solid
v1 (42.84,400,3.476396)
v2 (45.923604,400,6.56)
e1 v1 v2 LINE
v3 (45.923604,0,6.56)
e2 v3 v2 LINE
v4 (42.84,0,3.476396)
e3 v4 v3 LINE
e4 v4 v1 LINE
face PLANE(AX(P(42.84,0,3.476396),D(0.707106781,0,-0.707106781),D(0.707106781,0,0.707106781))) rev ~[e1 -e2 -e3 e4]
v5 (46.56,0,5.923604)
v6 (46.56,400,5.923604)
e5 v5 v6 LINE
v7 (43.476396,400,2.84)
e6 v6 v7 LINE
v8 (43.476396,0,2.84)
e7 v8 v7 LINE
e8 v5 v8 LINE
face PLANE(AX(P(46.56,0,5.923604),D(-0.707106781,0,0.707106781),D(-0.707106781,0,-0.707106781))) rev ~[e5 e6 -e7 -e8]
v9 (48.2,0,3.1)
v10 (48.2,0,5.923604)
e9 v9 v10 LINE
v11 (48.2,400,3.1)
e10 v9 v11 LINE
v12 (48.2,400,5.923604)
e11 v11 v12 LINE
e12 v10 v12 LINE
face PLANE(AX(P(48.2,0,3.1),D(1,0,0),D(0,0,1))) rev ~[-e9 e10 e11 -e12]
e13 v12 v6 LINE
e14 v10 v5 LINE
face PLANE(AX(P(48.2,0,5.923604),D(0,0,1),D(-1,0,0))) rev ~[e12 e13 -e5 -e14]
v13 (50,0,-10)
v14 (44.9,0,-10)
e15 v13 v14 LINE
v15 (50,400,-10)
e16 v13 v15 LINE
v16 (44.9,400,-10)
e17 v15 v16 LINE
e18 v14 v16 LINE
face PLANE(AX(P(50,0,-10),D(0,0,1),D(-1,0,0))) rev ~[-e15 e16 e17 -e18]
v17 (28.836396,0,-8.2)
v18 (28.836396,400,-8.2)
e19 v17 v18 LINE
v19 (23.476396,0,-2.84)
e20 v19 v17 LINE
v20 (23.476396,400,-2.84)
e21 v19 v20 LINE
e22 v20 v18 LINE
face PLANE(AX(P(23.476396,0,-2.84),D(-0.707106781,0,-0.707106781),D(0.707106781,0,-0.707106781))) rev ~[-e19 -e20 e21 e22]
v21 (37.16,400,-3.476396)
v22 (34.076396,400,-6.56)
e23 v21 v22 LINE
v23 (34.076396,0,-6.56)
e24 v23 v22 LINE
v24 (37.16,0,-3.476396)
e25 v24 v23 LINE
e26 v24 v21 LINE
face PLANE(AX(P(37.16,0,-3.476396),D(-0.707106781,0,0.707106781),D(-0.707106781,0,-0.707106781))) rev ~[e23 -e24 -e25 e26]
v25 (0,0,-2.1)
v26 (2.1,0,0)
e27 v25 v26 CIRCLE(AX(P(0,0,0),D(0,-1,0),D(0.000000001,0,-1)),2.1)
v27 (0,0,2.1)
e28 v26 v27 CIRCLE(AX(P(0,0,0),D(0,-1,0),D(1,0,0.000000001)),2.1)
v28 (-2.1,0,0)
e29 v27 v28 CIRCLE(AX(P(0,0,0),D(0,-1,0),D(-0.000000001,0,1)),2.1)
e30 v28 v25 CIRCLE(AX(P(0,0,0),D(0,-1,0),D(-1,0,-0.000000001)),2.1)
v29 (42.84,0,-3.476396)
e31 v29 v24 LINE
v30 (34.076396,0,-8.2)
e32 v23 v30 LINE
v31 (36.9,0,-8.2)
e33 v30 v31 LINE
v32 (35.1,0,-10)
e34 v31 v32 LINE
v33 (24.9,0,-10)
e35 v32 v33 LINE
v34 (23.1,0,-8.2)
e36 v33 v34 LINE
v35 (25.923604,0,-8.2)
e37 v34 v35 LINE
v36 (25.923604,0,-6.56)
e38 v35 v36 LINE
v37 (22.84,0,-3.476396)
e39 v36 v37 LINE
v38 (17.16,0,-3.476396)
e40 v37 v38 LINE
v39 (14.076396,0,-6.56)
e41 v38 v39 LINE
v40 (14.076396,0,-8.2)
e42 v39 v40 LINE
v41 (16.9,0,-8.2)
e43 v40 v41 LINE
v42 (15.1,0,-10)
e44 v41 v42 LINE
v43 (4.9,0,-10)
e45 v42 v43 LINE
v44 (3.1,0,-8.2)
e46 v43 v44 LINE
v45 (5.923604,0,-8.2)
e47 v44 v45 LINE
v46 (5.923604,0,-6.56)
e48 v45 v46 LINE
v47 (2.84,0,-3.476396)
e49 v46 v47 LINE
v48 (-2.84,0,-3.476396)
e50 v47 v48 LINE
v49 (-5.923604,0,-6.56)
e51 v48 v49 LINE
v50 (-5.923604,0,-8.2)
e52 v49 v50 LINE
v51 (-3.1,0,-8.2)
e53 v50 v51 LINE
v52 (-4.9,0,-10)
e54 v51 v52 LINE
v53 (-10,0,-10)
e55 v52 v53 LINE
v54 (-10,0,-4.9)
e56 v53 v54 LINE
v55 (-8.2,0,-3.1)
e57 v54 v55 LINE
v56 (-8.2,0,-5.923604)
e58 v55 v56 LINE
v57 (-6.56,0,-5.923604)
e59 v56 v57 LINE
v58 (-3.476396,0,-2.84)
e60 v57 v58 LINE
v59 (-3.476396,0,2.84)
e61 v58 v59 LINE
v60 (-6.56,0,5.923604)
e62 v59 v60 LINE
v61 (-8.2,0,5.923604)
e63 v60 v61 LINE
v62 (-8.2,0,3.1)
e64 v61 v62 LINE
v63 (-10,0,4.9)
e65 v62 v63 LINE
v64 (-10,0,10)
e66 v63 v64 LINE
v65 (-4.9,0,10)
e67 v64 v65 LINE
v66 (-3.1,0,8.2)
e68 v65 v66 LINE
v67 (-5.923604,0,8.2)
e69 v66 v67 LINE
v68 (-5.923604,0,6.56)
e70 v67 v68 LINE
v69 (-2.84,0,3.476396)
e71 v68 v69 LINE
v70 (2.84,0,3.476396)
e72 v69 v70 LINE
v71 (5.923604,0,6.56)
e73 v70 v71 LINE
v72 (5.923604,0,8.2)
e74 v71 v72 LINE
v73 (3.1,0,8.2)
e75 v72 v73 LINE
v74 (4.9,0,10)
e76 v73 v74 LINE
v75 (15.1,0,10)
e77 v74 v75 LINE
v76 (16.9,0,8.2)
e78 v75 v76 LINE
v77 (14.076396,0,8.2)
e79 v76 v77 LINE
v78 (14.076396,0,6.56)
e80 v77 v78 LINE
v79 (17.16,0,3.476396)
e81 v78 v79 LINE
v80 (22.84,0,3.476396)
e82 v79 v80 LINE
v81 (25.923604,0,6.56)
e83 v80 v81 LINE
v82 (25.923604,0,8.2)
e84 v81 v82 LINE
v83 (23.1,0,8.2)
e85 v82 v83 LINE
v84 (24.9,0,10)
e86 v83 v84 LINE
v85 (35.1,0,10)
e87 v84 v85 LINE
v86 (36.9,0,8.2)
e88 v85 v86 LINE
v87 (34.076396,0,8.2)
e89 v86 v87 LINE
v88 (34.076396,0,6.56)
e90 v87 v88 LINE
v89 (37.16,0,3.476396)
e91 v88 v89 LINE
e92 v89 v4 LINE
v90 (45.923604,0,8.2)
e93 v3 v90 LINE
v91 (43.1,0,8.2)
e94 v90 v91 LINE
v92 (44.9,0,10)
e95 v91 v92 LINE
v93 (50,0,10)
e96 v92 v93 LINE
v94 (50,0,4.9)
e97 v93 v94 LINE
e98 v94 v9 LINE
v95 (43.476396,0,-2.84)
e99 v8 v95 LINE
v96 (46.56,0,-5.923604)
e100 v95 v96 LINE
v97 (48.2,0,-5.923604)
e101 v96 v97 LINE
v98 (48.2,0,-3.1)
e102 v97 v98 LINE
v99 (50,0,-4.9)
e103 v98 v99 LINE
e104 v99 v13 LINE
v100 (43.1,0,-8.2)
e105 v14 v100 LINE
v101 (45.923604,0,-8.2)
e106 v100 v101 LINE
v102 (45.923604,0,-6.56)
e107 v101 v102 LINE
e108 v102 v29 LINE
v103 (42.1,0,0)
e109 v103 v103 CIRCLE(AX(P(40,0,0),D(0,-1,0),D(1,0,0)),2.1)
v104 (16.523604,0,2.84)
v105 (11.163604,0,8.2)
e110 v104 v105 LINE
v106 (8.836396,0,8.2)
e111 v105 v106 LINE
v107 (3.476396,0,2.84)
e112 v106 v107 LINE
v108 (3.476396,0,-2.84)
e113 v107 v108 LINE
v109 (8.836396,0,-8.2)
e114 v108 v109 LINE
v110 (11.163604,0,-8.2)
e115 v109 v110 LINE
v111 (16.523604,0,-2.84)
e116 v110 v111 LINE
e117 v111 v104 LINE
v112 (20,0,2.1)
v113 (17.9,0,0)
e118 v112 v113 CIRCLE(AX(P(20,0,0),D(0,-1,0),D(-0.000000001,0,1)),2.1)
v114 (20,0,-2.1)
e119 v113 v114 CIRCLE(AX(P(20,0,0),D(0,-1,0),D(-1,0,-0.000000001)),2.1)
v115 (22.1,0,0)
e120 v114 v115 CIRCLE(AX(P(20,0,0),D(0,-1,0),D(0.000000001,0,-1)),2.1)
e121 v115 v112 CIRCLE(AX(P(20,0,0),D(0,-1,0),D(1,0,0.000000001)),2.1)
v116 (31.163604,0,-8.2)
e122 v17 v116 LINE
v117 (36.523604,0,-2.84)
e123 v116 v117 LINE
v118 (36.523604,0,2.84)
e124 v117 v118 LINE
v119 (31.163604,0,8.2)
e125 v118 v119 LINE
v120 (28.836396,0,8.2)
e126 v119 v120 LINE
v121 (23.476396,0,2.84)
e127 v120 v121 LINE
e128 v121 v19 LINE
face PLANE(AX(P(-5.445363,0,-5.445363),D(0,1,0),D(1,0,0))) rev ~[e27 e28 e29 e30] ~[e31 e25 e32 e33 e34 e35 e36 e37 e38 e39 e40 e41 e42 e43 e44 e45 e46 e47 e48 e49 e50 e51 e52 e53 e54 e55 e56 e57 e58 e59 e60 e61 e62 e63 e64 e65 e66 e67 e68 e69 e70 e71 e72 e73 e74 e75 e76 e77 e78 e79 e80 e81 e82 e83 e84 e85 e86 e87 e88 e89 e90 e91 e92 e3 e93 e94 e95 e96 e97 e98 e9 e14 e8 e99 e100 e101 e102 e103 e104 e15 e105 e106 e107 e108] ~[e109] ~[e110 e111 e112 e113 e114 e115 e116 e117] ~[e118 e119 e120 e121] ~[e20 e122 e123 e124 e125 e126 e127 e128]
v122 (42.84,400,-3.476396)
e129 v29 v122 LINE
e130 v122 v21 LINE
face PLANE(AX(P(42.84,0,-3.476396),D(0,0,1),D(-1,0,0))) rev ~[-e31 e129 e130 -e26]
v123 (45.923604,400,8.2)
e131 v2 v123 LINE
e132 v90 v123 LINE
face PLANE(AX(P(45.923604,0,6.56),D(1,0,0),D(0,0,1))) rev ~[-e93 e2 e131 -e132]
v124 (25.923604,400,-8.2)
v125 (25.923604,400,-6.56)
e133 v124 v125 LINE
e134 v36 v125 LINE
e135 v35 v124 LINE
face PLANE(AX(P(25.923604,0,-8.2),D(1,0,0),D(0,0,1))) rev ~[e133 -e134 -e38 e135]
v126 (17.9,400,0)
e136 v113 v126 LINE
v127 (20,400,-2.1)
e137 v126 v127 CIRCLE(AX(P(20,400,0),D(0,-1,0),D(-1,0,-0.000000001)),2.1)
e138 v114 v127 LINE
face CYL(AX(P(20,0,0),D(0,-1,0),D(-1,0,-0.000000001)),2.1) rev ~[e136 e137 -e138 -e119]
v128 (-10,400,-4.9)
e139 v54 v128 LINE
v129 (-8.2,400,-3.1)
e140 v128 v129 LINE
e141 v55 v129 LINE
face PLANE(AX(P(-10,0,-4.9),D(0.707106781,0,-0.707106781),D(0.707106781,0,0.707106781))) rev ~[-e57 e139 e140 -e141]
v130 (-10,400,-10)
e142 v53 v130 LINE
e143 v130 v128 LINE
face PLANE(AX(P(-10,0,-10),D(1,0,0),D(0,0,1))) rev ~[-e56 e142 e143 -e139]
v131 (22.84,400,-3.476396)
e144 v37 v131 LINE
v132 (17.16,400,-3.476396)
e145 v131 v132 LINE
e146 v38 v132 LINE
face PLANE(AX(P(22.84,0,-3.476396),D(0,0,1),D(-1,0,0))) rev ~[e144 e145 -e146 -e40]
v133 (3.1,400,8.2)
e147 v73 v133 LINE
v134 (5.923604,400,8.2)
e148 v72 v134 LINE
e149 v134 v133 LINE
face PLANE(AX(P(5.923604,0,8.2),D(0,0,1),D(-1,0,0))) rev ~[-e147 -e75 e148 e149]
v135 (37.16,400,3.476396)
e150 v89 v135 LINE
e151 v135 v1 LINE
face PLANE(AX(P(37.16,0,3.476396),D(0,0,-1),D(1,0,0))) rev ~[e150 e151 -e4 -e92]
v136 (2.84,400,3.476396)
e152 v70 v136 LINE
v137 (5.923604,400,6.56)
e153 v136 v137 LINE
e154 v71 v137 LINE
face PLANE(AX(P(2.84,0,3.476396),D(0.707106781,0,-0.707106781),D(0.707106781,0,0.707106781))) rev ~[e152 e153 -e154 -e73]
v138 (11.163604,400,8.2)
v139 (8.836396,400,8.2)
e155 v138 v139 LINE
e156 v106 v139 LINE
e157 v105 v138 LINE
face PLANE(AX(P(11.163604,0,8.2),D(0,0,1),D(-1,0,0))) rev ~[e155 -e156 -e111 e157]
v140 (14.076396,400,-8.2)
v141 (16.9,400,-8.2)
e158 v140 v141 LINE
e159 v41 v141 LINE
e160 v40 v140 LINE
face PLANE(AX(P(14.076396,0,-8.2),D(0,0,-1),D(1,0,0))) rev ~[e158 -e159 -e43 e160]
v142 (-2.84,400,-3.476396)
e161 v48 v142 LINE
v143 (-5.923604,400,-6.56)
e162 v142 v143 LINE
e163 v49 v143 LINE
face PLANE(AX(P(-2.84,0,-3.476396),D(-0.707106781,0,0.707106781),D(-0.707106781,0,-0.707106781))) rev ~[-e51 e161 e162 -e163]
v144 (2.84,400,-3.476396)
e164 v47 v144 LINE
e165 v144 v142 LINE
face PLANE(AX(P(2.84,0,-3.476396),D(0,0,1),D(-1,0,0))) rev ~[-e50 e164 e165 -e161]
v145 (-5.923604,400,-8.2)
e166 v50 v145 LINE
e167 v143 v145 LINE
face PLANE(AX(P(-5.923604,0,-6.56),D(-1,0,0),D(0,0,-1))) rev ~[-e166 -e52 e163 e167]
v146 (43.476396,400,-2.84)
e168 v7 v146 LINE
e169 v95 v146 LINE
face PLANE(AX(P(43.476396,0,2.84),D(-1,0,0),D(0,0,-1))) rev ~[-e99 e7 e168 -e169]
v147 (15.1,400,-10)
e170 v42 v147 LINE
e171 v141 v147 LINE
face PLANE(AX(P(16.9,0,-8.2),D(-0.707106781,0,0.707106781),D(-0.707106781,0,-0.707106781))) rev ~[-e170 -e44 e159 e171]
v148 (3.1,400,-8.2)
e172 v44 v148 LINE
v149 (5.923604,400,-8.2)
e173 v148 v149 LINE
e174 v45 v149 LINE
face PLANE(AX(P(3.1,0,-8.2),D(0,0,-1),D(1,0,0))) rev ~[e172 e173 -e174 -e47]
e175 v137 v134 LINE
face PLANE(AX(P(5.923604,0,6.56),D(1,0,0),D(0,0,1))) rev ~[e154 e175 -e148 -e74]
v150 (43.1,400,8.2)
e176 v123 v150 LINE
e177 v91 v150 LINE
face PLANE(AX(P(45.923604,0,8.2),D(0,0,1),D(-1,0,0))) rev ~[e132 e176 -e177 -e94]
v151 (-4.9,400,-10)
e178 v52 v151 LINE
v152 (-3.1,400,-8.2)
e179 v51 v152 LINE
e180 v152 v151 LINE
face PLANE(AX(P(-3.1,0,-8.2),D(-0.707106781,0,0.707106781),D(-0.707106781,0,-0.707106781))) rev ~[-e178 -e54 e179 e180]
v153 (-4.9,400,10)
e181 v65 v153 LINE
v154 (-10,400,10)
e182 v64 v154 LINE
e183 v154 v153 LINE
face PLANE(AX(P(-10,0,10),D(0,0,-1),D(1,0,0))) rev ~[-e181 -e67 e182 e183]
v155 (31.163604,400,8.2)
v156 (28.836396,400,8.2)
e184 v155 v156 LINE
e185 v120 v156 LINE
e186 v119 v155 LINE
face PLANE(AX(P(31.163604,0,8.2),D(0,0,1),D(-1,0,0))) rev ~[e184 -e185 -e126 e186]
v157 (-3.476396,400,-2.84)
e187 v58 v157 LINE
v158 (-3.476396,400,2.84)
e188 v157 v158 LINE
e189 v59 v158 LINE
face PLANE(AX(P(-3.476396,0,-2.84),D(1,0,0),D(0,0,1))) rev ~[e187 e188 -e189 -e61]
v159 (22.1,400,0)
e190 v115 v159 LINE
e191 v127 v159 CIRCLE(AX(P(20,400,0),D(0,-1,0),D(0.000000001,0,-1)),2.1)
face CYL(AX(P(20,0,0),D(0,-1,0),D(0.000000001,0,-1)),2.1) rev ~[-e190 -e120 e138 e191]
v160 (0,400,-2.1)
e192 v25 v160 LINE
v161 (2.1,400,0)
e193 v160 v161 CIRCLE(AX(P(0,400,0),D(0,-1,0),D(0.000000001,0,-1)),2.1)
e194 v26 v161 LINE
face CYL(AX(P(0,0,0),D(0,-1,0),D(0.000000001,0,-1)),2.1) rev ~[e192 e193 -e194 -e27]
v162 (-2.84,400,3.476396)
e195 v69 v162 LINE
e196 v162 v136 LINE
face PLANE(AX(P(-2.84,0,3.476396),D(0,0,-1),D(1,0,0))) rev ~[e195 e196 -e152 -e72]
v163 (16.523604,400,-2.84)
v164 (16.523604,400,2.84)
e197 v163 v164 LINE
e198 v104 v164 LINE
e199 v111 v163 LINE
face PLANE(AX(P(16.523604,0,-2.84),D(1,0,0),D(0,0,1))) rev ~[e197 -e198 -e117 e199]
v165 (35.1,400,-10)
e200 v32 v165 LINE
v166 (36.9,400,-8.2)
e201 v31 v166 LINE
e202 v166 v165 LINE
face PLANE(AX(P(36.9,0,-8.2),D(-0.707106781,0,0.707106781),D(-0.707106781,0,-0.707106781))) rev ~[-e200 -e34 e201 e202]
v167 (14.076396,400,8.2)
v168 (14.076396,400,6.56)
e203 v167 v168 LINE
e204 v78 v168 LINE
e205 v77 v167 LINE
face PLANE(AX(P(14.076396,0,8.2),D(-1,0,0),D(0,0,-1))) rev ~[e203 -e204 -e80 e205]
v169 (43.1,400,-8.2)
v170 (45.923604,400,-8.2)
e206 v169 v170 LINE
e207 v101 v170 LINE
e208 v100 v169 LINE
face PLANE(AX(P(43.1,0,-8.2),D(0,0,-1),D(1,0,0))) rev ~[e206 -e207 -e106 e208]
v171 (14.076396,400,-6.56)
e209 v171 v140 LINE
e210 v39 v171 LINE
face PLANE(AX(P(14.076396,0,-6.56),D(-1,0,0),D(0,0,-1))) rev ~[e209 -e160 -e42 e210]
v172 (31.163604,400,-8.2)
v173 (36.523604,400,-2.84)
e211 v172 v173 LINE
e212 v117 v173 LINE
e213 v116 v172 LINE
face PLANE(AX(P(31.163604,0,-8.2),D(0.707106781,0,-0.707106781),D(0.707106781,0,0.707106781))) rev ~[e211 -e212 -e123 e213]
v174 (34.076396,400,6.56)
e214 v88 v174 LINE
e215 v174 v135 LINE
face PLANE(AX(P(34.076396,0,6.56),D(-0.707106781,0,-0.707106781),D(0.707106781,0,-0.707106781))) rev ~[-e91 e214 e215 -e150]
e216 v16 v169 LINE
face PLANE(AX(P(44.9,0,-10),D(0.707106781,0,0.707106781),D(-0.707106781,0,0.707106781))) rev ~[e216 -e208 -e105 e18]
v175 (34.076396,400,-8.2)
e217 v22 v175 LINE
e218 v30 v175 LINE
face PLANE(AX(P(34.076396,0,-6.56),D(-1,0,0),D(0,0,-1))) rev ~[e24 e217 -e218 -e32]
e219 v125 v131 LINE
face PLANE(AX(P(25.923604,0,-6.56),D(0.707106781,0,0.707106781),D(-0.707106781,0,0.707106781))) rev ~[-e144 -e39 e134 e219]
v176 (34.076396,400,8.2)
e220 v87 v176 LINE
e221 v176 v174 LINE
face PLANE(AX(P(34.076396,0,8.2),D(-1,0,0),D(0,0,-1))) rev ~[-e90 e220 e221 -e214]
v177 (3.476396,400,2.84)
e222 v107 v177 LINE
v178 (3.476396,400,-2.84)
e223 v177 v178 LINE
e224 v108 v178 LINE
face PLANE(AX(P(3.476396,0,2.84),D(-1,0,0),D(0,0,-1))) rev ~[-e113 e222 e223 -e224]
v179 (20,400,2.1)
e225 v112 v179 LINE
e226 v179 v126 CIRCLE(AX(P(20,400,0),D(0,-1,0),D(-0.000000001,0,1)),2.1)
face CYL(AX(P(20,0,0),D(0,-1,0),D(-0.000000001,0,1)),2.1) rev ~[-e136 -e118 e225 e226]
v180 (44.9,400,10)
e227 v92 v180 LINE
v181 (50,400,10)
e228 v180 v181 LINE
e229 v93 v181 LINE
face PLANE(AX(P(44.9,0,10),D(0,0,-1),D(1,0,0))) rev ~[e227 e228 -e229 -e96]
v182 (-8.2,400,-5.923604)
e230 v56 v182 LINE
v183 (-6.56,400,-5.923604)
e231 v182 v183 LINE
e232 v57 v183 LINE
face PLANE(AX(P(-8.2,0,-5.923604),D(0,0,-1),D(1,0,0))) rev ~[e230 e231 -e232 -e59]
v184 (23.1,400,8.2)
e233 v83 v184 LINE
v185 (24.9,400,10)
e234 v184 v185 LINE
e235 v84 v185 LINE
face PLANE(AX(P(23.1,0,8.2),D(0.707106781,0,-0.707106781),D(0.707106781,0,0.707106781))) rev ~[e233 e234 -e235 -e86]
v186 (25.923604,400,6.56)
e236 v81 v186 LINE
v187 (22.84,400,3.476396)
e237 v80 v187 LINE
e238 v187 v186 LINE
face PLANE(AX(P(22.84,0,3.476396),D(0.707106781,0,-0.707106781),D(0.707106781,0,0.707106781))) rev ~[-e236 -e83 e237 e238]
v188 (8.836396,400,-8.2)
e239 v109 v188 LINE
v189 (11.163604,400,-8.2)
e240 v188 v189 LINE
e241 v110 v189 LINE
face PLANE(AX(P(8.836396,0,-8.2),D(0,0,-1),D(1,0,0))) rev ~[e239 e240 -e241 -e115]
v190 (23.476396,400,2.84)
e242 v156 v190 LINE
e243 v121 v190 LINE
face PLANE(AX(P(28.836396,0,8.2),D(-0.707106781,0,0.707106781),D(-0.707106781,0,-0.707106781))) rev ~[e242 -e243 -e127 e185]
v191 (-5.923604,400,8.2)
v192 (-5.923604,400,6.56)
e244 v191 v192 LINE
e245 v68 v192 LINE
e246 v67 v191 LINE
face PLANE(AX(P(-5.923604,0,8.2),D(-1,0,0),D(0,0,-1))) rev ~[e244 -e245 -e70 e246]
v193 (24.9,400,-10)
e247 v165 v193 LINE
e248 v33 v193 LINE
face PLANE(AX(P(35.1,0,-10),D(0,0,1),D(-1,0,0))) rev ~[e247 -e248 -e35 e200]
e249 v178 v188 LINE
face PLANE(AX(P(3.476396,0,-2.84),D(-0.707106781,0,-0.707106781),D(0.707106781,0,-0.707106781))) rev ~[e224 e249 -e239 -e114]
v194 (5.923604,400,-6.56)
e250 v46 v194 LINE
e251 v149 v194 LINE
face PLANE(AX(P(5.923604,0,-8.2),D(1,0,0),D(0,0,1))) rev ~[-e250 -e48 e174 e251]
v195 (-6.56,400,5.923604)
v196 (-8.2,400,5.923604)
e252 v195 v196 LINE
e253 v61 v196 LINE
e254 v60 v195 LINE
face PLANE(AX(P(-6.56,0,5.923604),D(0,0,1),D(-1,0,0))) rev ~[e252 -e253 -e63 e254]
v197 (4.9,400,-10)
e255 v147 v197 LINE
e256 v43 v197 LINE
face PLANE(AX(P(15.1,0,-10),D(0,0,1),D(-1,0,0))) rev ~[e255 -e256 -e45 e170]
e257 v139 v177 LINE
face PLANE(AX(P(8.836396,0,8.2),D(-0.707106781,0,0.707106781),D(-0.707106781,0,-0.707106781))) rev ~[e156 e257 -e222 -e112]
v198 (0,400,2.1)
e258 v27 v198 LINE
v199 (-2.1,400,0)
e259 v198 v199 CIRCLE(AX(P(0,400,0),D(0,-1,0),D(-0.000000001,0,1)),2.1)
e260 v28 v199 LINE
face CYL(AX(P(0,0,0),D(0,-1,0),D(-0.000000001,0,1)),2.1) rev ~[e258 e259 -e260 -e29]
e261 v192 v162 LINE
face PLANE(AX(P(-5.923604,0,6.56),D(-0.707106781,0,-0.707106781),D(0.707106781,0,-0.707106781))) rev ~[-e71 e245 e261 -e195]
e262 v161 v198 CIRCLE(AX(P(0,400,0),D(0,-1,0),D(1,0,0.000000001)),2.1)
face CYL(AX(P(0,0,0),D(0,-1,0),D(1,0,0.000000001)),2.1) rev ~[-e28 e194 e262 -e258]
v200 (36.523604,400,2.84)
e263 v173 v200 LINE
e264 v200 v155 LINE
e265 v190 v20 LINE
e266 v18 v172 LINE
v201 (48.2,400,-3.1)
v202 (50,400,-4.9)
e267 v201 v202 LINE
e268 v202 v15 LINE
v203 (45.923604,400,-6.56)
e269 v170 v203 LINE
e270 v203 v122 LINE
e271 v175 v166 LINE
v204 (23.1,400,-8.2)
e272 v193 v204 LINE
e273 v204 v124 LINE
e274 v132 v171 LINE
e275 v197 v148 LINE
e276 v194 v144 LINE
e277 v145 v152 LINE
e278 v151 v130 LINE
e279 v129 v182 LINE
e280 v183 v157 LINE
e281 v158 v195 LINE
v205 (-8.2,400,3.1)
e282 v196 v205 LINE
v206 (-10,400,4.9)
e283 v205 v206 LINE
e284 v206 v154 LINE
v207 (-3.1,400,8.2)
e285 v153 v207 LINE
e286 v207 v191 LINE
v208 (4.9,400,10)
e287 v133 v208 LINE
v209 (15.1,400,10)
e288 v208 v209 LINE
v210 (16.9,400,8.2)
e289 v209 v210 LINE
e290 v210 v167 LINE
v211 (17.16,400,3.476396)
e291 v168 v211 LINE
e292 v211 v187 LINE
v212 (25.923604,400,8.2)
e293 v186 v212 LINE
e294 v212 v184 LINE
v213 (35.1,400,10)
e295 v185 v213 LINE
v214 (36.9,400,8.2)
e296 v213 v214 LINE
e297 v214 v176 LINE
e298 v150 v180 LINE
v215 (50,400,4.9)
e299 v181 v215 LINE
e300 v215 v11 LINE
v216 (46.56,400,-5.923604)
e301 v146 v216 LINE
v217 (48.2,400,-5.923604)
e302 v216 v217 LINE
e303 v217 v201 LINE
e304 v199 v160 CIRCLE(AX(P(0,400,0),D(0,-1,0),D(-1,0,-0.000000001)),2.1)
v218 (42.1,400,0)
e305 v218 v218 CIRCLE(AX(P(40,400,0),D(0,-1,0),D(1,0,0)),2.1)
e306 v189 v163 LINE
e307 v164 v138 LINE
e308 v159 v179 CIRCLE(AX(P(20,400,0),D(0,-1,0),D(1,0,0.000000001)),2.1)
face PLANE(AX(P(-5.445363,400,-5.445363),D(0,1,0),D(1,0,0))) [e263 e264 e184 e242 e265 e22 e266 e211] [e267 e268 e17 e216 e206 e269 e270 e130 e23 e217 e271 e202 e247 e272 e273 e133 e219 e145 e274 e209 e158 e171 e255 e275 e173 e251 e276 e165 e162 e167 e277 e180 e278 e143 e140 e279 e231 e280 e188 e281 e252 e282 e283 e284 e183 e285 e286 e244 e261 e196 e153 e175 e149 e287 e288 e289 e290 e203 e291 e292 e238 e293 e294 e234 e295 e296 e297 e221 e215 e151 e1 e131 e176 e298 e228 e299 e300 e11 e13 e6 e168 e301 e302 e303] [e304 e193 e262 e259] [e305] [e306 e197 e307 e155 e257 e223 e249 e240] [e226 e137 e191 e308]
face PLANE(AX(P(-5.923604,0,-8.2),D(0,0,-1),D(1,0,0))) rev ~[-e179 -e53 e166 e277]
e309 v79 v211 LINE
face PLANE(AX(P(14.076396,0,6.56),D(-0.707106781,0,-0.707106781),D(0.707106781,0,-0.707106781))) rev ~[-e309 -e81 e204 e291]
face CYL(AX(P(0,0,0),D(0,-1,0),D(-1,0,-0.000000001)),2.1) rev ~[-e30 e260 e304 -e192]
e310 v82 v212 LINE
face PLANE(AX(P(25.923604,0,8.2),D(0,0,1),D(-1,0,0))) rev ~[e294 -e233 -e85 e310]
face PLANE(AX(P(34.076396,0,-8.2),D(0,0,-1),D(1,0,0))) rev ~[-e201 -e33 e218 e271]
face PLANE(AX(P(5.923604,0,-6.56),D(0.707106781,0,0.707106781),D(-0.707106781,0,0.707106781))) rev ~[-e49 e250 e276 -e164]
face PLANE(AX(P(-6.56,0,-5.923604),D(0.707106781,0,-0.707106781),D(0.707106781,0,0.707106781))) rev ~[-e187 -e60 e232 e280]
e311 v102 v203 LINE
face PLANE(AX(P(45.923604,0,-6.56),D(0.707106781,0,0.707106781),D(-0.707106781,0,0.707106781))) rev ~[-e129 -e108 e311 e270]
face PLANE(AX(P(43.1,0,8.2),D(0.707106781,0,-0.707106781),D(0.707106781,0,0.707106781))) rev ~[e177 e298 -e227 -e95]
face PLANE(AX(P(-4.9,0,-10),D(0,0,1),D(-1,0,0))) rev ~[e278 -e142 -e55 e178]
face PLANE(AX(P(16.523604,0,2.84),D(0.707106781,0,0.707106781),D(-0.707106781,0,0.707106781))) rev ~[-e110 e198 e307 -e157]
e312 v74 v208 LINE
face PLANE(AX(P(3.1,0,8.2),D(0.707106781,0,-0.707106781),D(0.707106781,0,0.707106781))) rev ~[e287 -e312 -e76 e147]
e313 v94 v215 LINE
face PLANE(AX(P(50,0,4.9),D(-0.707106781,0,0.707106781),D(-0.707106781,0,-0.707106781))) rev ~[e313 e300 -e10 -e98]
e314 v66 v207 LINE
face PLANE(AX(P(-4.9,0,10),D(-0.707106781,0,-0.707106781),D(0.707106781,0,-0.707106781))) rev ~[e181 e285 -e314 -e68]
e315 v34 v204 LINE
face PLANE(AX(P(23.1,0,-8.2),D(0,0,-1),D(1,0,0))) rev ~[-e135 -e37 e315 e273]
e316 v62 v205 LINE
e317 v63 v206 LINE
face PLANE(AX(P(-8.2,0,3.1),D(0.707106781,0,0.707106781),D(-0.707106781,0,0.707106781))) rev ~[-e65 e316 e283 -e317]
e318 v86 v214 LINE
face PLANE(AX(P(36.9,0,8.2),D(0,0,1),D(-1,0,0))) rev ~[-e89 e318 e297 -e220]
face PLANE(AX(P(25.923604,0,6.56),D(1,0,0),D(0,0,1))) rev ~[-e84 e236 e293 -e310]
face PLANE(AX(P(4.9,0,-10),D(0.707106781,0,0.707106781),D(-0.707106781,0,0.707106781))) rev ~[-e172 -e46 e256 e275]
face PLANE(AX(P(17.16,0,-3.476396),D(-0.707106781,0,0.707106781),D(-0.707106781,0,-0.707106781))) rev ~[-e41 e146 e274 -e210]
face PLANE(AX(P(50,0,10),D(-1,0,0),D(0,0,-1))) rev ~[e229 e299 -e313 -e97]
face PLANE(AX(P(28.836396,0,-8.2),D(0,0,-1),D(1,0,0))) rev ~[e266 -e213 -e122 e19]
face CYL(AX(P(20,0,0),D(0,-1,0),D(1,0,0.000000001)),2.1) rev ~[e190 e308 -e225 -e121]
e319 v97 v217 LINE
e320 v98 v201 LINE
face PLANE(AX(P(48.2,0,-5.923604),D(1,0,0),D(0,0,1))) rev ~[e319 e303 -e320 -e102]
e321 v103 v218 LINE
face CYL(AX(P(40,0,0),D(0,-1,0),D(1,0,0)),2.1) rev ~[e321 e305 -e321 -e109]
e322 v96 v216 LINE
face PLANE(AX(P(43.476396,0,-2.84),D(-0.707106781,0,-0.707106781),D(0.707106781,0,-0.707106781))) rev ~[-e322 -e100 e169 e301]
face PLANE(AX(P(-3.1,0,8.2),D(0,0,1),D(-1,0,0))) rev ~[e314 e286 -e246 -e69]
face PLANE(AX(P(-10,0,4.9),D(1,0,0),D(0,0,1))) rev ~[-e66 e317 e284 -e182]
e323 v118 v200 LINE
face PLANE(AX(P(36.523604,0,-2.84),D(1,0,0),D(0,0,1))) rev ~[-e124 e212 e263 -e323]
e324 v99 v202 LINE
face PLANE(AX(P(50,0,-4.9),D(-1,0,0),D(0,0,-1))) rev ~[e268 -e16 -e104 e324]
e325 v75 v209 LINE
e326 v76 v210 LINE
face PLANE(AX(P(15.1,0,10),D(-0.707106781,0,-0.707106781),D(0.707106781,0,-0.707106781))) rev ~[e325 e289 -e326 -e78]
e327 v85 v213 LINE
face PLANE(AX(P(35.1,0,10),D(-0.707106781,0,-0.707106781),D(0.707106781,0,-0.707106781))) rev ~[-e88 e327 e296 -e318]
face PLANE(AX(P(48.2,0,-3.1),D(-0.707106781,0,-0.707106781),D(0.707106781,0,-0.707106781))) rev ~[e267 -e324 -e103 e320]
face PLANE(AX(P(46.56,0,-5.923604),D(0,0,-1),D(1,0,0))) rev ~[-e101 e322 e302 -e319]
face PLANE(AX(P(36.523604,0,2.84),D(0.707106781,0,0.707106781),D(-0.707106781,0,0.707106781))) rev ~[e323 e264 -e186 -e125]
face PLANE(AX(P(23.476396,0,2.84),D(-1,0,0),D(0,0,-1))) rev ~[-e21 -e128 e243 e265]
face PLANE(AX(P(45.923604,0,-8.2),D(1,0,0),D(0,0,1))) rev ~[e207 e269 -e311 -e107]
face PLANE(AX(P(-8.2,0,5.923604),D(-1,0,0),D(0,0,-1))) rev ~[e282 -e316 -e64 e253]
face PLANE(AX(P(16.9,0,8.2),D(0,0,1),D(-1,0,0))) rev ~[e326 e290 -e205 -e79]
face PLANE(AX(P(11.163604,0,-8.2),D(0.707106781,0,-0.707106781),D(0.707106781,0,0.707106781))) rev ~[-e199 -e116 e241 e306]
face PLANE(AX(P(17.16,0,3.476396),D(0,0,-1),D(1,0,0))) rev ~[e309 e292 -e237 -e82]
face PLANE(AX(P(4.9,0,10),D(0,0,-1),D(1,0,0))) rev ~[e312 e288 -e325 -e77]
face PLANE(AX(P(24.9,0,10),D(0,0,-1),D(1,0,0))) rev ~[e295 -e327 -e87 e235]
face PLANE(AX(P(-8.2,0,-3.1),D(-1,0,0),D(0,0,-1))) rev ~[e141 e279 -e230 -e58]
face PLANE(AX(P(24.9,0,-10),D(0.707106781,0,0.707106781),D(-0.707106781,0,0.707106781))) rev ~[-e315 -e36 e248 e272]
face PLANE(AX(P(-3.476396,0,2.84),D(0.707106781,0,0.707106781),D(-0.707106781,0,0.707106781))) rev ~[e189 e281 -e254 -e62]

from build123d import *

# Parameters (mm, degrees)
EXTRUDE_1_DEPTH = 400


with BuildPart() as part:
    # 草图1 → 凸台-拉伸1 (new body)
    with BuildSketch(Plane(origin=(0, 0, 0), x_dir=(1, 0, 0), z_dir=(0, 1, 0))):
        with BuildLine():
            Line((-3.476396103, 2.84), (-3.476396103, 0))
            Line((-3.476396103, 0), (-2.1, 0))
            ThreePointArc((-2.1, 0), (-1.48492424, 1.48492424), (0, 2.1))
            Line((0, 2.1), (0, 3.476396103))
            Line((0, 3.476396103), (-2.84, 3.476396103))
            Line((-2.84, 3.476396103), (-5.923603897, 6.56))
            Line((-5.923603897, 6.56), (-5.923603897, 8.2))
            Line((-5.923603897, 8.2), (-3.1, 8.2))
            Line((-3.1, 8.2), (-4.9, 10))
            Line((-4.9, 10), (-10, 10))
            Line((-10, 10), (-10, 4.9))
            Line((-10, 4.9), (-8.2, 3.1))
            Line((-8.2, 3.1), (-8.2, 5.923603897))
            Line((-8.2, 5.923603897), (-6.56, 5.923603897))
            Line((-6.56, 5.923603897), (-3.476396103, 2.84))
        make_face()
        with BuildLine():
            Line((-2.1, 0), (-3.476396103, 0))
            Line((-3.476396103, 0), (-3.476396103, -2.84))
            Line((-3.476396103, -2.84), (-6.56, -5.923603897))
            Line((-6.56, -5.923603897), (-8.2, -5.923603897))
            Line((-8.2, -5.923603897), (-8.2, -3.1))
            Line((-8.2, -3.1), (-10, -4.9))
            Line((-10, -4.9), (-10, -10))
            Line((-10, -10), (-4.9, -10))
            Line((-4.9, -10), (-3.1, -8.2))
            Line((-3.1, -8.2), (-5.923603897, -8.2))
            Line((-5.923603897, -8.2), (-5.923603897, -6.56))
            Line((-5.923603897, -6.56), (-2.84, -3.476396103))
            Line((-2.84, -3.476396103), (0, -3.476396103))
            Line((0, -3.476396103), (0, -2.1))
            ThreePointArc((0, -2.1), (-1.48492424, -1.48492424), (-2.1, 0))
        make_face()
        with BuildLine():
            ThreePointArc((2.1, 0), (1.48492424, -1.48492424), (0, -2.1))
            Line((0, -2.1), (0, -3.476396103))
            Line((0, -3.476396103), (2.84, -3.476396103))
            Line((2.84, -3.476396103), (5.923603897, -6.56))
            Line((5.923603897, -6.56), (5.923603897, -8.2))
            Line((5.923603897, -8.2), (3.1, -8.2))
            Line((3.1, -8.2), (4.9, -10))
            Line((4.9, -10), (15.1, -10))
            Line((15.1, -10), (16.9, -8.2))
            Line((16.9, -8.2), (14.076396103, -8.2))
            Line((14.076396103, -8.2), (14.076396103, -6.56))
            Line((14.076396103, -6.56), (17.16, -3.476396103))
            Line((17.16, -3.476396103), (20, -3.476396103))
            Line((20, -3.476396103), (20, -2.1))
            ThreePointArc((20, -2.1), (18.51507576, -1.48492424), (17.9, 0))
            Line((17.9, 0), (16.523603897, 0))
            Line((16.523603897, 0), (16.523603897, -2.84))
            Line((16.523603897, -2.84), (13.44, -5.923603897))
            Line((13.44, -5.923603897), (11.163603897, -8.2))
            Line((11.163603897, -8.2), (8.836396103, -8.2))
            Line((8.836396103, -8.2), (6.56, -5.923603897))
            Line((6.56, -5.923603897), (3.476396103, -2.84))
            Line((3.476396103, -2.84), (3.476396103, 0))
            Line((3.476396103, 0), (2.1, 0))
        make_face()
        with BuildLine():
            Line((0, 3.476396103), (0, 2.1))
            ThreePointArc((0, 2.1), (1.48492424, 1.48492424), (2.1, 0))
            Line((2.1, 0), (3.476396103, 0))
            Line((3.476396103, 0), (3.476396103, 2.84))
            Line((3.476396103, 2.84), (6.56, 5.923603897))
            Line((6.56, 5.923603897), (8.836396103, 8.2))
            Line((8.836396103, 8.2), (11.163603897, 8.2))
            Line((11.163603897, 8.2), (13.44, 5.923603897))
            Line((13.44, 5.923603897), (16.523603897, 2.84))
            Line((16.523603897, 2.84), (16.523603897, 0))
            Line((16.523603897, 0), (17.9, 0))
            ThreePointArc((17.9, 0), (18.51507576, 1.48492424), (20, 2.1))
            Line((20, 2.1), (20, 3.476396103))
            Line((20, 3.476396103), (17.16, 3.476396103))
            Line((17.16, 3.476396103), (14.076396103, 6.56))
            Line((14.076396103, 6.56), (14.076396103, 8.2))
            Line((14.076396103, 8.2), (16.9, 8.2))
            Line((16.9, 8.2), (15.1, 10))
            Line((15.1, 10), (4.9, 10))
            Line((4.9, 10), (3.1, 8.2))
            Line((3.1, 8.2), (5.923603897, 8.2))
            Line((5.923603897, 8.2), (5.923603897, 6.56))
            Line((5.923603897, 6.56), (2.84, 3.476396103))
            Line((2.84, 3.476396103), (0, 3.476396103))
        make_face()
        with BuildLine():
            Line((20, 3.476396103), (20, 2.1))
            ThreePointArc((20, 2.1), (21.48492424, 1.48492424), (22.1, 0))
            Line((22.1, 0), (23.476396103, 0))
            Line((23.476396103, 0), (23.476396103, 2.84))
            Line((23.476396103, 2.84), (26.56, 5.923603897))
            Line((26.56, 5.923603897), (28.836396103, 8.2))
            Line((28.836396103, 8.2), (31.163603897, 8.2))
            Line((31.163603897, 8.2), (33.44, 5.923603897))
            Line((33.44, 5.923603897), (36.523603897, 2.84))
            Line((36.523603897, 2.84), (36.523603897, 0))
            Line((36.523603897, 0), (37.9, 0))
            ThreePointArc((37.9, 0), (40, 2.1), (42.1, 0))
            Line((42.1, 0), (43.476396103, 0))
            Line((43.476396103, 0), (43.476396103, 2.84))
            Line((43.476396103, 2.84), (46.56, 5.923603897))
            Line((46.56, 5.923603897), (48.2, 5.923603897))
            Line((48.2, 5.923603897), (48.2, 3.1))
            Line((48.2, 3.1), (50, 4.9))
            Line((50, 4.9), (50, 10))
            Line((50, 10), (44.9, 10))
            Line((44.9, 10), (43.1, 8.2))
            Line((43.1, 8.2), (45.923603897, 8.2))
            Line((45.923603897, 8.2), (45.923603897, 6.56))
            Line((45.923603897, 6.56), (42.84, 3.476396103))
            Line((42.84, 3.476396103), (37.16, 3.476396103))
            Line((37.16, 3.476396103), (34.076396103, 6.56))
            Line((34.076396103, 6.56), (34.076396103, 8.2))
            Line((34.076396103, 8.2), (36.9, 8.2))
            Line((36.9, 8.2), (35.1, 10))
            Line((35.1, 10), (24.9, 10))
            Line((24.9, 10), (23.1, 8.2))
            Line((23.1, 8.2), (25.923603897, 8.2))
            Line((25.923603897, 8.2), (25.923603897, 6.56))
            Line((25.923603897, 6.56), (22.84, 3.476396103))
            Line((22.84, 3.476396103), (20, 3.476396103))
        make_face()
        with BuildLine():
            ThreePointArc((22.1, 0), (21.48492424, -1.48492424), (20, -2.1))
            Line((20, -2.1), (20, -3.476396103))
            Line((20, -3.476396103), (22.84, -3.476396103))
            Line((22.84, -3.476396103), (25.923603897, -6.56))
            Line((25.923603897, -6.56), (25.923603897, -8.2))
            Line((25.923603897, -8.2), (23.1, -8.2))
            Line((23.1, -8.2), (24.9, -10))
            Line((24.9, -10), (35.1, -10))
            Line((35.1, -10), (36.9, -8.2))
            Line((36.9, -8.2), (34.076396103, -8.2))
            Line((34.076396103, -8.2), (34.076396103, -6.56))
            Line((34.076396103, -6.56), (37.16, -3.476396103))
            Line((37.16, -3.476396103), (42.84, -3.476396103))
            Line((42.84, -3.476396103), (45.923603897, -6.56))
            Line((45.923603897, -6.56), (45.923603897, -8.2))
            Line((45.923603897, -8.2), (43.1, -8.2))
            Line((43.1, -8.2), (44.9, -10))
            Line((44.9, -10), (50, -10))
            Line((50, -10), (50, -4.9))
            Line((50, -4.9), (48.2, -3.1))
            Line((48.2, -3.1), (48.2, -5.923603897))
            Line((48.2, -5.923603897), (46.56, -5.923603897))
            Line((46.56, -5.923603897), (43.476396103, -2.84))
            Line((43.476396103, -2.84), (43.476396103, 0))
            Line((43.476396103, 0), (42.1, 0))
            ThreePointArc((42.1, 0), (40, -2.1), (37.9, 0))
            Line((37.9, 0), (36.523603897, 0))
            Line((36.523603897, 0), (36.523603897, -2.84))
            Line((36.523603897, -2.84), (33.44, -5.923603897))
            Line((33.44, -5.923603897), (31.163603897, -8.2))
            Line((31.163603897, -8.2), (28.836396103, -8.2))
            Line((28.836396103, -8.2), (26.56, -5.923603897))
            Line((26.56, -5.923603897), (23.476396103, -2.84))
            Line((23.476396103, -2.84), (23.476396103, 0))
            Line((23.476396103, 0), (22.1, 0))
        make_face()
    extrude(amount=EXTRUDE_1_DEPTH)


solid = part.part
